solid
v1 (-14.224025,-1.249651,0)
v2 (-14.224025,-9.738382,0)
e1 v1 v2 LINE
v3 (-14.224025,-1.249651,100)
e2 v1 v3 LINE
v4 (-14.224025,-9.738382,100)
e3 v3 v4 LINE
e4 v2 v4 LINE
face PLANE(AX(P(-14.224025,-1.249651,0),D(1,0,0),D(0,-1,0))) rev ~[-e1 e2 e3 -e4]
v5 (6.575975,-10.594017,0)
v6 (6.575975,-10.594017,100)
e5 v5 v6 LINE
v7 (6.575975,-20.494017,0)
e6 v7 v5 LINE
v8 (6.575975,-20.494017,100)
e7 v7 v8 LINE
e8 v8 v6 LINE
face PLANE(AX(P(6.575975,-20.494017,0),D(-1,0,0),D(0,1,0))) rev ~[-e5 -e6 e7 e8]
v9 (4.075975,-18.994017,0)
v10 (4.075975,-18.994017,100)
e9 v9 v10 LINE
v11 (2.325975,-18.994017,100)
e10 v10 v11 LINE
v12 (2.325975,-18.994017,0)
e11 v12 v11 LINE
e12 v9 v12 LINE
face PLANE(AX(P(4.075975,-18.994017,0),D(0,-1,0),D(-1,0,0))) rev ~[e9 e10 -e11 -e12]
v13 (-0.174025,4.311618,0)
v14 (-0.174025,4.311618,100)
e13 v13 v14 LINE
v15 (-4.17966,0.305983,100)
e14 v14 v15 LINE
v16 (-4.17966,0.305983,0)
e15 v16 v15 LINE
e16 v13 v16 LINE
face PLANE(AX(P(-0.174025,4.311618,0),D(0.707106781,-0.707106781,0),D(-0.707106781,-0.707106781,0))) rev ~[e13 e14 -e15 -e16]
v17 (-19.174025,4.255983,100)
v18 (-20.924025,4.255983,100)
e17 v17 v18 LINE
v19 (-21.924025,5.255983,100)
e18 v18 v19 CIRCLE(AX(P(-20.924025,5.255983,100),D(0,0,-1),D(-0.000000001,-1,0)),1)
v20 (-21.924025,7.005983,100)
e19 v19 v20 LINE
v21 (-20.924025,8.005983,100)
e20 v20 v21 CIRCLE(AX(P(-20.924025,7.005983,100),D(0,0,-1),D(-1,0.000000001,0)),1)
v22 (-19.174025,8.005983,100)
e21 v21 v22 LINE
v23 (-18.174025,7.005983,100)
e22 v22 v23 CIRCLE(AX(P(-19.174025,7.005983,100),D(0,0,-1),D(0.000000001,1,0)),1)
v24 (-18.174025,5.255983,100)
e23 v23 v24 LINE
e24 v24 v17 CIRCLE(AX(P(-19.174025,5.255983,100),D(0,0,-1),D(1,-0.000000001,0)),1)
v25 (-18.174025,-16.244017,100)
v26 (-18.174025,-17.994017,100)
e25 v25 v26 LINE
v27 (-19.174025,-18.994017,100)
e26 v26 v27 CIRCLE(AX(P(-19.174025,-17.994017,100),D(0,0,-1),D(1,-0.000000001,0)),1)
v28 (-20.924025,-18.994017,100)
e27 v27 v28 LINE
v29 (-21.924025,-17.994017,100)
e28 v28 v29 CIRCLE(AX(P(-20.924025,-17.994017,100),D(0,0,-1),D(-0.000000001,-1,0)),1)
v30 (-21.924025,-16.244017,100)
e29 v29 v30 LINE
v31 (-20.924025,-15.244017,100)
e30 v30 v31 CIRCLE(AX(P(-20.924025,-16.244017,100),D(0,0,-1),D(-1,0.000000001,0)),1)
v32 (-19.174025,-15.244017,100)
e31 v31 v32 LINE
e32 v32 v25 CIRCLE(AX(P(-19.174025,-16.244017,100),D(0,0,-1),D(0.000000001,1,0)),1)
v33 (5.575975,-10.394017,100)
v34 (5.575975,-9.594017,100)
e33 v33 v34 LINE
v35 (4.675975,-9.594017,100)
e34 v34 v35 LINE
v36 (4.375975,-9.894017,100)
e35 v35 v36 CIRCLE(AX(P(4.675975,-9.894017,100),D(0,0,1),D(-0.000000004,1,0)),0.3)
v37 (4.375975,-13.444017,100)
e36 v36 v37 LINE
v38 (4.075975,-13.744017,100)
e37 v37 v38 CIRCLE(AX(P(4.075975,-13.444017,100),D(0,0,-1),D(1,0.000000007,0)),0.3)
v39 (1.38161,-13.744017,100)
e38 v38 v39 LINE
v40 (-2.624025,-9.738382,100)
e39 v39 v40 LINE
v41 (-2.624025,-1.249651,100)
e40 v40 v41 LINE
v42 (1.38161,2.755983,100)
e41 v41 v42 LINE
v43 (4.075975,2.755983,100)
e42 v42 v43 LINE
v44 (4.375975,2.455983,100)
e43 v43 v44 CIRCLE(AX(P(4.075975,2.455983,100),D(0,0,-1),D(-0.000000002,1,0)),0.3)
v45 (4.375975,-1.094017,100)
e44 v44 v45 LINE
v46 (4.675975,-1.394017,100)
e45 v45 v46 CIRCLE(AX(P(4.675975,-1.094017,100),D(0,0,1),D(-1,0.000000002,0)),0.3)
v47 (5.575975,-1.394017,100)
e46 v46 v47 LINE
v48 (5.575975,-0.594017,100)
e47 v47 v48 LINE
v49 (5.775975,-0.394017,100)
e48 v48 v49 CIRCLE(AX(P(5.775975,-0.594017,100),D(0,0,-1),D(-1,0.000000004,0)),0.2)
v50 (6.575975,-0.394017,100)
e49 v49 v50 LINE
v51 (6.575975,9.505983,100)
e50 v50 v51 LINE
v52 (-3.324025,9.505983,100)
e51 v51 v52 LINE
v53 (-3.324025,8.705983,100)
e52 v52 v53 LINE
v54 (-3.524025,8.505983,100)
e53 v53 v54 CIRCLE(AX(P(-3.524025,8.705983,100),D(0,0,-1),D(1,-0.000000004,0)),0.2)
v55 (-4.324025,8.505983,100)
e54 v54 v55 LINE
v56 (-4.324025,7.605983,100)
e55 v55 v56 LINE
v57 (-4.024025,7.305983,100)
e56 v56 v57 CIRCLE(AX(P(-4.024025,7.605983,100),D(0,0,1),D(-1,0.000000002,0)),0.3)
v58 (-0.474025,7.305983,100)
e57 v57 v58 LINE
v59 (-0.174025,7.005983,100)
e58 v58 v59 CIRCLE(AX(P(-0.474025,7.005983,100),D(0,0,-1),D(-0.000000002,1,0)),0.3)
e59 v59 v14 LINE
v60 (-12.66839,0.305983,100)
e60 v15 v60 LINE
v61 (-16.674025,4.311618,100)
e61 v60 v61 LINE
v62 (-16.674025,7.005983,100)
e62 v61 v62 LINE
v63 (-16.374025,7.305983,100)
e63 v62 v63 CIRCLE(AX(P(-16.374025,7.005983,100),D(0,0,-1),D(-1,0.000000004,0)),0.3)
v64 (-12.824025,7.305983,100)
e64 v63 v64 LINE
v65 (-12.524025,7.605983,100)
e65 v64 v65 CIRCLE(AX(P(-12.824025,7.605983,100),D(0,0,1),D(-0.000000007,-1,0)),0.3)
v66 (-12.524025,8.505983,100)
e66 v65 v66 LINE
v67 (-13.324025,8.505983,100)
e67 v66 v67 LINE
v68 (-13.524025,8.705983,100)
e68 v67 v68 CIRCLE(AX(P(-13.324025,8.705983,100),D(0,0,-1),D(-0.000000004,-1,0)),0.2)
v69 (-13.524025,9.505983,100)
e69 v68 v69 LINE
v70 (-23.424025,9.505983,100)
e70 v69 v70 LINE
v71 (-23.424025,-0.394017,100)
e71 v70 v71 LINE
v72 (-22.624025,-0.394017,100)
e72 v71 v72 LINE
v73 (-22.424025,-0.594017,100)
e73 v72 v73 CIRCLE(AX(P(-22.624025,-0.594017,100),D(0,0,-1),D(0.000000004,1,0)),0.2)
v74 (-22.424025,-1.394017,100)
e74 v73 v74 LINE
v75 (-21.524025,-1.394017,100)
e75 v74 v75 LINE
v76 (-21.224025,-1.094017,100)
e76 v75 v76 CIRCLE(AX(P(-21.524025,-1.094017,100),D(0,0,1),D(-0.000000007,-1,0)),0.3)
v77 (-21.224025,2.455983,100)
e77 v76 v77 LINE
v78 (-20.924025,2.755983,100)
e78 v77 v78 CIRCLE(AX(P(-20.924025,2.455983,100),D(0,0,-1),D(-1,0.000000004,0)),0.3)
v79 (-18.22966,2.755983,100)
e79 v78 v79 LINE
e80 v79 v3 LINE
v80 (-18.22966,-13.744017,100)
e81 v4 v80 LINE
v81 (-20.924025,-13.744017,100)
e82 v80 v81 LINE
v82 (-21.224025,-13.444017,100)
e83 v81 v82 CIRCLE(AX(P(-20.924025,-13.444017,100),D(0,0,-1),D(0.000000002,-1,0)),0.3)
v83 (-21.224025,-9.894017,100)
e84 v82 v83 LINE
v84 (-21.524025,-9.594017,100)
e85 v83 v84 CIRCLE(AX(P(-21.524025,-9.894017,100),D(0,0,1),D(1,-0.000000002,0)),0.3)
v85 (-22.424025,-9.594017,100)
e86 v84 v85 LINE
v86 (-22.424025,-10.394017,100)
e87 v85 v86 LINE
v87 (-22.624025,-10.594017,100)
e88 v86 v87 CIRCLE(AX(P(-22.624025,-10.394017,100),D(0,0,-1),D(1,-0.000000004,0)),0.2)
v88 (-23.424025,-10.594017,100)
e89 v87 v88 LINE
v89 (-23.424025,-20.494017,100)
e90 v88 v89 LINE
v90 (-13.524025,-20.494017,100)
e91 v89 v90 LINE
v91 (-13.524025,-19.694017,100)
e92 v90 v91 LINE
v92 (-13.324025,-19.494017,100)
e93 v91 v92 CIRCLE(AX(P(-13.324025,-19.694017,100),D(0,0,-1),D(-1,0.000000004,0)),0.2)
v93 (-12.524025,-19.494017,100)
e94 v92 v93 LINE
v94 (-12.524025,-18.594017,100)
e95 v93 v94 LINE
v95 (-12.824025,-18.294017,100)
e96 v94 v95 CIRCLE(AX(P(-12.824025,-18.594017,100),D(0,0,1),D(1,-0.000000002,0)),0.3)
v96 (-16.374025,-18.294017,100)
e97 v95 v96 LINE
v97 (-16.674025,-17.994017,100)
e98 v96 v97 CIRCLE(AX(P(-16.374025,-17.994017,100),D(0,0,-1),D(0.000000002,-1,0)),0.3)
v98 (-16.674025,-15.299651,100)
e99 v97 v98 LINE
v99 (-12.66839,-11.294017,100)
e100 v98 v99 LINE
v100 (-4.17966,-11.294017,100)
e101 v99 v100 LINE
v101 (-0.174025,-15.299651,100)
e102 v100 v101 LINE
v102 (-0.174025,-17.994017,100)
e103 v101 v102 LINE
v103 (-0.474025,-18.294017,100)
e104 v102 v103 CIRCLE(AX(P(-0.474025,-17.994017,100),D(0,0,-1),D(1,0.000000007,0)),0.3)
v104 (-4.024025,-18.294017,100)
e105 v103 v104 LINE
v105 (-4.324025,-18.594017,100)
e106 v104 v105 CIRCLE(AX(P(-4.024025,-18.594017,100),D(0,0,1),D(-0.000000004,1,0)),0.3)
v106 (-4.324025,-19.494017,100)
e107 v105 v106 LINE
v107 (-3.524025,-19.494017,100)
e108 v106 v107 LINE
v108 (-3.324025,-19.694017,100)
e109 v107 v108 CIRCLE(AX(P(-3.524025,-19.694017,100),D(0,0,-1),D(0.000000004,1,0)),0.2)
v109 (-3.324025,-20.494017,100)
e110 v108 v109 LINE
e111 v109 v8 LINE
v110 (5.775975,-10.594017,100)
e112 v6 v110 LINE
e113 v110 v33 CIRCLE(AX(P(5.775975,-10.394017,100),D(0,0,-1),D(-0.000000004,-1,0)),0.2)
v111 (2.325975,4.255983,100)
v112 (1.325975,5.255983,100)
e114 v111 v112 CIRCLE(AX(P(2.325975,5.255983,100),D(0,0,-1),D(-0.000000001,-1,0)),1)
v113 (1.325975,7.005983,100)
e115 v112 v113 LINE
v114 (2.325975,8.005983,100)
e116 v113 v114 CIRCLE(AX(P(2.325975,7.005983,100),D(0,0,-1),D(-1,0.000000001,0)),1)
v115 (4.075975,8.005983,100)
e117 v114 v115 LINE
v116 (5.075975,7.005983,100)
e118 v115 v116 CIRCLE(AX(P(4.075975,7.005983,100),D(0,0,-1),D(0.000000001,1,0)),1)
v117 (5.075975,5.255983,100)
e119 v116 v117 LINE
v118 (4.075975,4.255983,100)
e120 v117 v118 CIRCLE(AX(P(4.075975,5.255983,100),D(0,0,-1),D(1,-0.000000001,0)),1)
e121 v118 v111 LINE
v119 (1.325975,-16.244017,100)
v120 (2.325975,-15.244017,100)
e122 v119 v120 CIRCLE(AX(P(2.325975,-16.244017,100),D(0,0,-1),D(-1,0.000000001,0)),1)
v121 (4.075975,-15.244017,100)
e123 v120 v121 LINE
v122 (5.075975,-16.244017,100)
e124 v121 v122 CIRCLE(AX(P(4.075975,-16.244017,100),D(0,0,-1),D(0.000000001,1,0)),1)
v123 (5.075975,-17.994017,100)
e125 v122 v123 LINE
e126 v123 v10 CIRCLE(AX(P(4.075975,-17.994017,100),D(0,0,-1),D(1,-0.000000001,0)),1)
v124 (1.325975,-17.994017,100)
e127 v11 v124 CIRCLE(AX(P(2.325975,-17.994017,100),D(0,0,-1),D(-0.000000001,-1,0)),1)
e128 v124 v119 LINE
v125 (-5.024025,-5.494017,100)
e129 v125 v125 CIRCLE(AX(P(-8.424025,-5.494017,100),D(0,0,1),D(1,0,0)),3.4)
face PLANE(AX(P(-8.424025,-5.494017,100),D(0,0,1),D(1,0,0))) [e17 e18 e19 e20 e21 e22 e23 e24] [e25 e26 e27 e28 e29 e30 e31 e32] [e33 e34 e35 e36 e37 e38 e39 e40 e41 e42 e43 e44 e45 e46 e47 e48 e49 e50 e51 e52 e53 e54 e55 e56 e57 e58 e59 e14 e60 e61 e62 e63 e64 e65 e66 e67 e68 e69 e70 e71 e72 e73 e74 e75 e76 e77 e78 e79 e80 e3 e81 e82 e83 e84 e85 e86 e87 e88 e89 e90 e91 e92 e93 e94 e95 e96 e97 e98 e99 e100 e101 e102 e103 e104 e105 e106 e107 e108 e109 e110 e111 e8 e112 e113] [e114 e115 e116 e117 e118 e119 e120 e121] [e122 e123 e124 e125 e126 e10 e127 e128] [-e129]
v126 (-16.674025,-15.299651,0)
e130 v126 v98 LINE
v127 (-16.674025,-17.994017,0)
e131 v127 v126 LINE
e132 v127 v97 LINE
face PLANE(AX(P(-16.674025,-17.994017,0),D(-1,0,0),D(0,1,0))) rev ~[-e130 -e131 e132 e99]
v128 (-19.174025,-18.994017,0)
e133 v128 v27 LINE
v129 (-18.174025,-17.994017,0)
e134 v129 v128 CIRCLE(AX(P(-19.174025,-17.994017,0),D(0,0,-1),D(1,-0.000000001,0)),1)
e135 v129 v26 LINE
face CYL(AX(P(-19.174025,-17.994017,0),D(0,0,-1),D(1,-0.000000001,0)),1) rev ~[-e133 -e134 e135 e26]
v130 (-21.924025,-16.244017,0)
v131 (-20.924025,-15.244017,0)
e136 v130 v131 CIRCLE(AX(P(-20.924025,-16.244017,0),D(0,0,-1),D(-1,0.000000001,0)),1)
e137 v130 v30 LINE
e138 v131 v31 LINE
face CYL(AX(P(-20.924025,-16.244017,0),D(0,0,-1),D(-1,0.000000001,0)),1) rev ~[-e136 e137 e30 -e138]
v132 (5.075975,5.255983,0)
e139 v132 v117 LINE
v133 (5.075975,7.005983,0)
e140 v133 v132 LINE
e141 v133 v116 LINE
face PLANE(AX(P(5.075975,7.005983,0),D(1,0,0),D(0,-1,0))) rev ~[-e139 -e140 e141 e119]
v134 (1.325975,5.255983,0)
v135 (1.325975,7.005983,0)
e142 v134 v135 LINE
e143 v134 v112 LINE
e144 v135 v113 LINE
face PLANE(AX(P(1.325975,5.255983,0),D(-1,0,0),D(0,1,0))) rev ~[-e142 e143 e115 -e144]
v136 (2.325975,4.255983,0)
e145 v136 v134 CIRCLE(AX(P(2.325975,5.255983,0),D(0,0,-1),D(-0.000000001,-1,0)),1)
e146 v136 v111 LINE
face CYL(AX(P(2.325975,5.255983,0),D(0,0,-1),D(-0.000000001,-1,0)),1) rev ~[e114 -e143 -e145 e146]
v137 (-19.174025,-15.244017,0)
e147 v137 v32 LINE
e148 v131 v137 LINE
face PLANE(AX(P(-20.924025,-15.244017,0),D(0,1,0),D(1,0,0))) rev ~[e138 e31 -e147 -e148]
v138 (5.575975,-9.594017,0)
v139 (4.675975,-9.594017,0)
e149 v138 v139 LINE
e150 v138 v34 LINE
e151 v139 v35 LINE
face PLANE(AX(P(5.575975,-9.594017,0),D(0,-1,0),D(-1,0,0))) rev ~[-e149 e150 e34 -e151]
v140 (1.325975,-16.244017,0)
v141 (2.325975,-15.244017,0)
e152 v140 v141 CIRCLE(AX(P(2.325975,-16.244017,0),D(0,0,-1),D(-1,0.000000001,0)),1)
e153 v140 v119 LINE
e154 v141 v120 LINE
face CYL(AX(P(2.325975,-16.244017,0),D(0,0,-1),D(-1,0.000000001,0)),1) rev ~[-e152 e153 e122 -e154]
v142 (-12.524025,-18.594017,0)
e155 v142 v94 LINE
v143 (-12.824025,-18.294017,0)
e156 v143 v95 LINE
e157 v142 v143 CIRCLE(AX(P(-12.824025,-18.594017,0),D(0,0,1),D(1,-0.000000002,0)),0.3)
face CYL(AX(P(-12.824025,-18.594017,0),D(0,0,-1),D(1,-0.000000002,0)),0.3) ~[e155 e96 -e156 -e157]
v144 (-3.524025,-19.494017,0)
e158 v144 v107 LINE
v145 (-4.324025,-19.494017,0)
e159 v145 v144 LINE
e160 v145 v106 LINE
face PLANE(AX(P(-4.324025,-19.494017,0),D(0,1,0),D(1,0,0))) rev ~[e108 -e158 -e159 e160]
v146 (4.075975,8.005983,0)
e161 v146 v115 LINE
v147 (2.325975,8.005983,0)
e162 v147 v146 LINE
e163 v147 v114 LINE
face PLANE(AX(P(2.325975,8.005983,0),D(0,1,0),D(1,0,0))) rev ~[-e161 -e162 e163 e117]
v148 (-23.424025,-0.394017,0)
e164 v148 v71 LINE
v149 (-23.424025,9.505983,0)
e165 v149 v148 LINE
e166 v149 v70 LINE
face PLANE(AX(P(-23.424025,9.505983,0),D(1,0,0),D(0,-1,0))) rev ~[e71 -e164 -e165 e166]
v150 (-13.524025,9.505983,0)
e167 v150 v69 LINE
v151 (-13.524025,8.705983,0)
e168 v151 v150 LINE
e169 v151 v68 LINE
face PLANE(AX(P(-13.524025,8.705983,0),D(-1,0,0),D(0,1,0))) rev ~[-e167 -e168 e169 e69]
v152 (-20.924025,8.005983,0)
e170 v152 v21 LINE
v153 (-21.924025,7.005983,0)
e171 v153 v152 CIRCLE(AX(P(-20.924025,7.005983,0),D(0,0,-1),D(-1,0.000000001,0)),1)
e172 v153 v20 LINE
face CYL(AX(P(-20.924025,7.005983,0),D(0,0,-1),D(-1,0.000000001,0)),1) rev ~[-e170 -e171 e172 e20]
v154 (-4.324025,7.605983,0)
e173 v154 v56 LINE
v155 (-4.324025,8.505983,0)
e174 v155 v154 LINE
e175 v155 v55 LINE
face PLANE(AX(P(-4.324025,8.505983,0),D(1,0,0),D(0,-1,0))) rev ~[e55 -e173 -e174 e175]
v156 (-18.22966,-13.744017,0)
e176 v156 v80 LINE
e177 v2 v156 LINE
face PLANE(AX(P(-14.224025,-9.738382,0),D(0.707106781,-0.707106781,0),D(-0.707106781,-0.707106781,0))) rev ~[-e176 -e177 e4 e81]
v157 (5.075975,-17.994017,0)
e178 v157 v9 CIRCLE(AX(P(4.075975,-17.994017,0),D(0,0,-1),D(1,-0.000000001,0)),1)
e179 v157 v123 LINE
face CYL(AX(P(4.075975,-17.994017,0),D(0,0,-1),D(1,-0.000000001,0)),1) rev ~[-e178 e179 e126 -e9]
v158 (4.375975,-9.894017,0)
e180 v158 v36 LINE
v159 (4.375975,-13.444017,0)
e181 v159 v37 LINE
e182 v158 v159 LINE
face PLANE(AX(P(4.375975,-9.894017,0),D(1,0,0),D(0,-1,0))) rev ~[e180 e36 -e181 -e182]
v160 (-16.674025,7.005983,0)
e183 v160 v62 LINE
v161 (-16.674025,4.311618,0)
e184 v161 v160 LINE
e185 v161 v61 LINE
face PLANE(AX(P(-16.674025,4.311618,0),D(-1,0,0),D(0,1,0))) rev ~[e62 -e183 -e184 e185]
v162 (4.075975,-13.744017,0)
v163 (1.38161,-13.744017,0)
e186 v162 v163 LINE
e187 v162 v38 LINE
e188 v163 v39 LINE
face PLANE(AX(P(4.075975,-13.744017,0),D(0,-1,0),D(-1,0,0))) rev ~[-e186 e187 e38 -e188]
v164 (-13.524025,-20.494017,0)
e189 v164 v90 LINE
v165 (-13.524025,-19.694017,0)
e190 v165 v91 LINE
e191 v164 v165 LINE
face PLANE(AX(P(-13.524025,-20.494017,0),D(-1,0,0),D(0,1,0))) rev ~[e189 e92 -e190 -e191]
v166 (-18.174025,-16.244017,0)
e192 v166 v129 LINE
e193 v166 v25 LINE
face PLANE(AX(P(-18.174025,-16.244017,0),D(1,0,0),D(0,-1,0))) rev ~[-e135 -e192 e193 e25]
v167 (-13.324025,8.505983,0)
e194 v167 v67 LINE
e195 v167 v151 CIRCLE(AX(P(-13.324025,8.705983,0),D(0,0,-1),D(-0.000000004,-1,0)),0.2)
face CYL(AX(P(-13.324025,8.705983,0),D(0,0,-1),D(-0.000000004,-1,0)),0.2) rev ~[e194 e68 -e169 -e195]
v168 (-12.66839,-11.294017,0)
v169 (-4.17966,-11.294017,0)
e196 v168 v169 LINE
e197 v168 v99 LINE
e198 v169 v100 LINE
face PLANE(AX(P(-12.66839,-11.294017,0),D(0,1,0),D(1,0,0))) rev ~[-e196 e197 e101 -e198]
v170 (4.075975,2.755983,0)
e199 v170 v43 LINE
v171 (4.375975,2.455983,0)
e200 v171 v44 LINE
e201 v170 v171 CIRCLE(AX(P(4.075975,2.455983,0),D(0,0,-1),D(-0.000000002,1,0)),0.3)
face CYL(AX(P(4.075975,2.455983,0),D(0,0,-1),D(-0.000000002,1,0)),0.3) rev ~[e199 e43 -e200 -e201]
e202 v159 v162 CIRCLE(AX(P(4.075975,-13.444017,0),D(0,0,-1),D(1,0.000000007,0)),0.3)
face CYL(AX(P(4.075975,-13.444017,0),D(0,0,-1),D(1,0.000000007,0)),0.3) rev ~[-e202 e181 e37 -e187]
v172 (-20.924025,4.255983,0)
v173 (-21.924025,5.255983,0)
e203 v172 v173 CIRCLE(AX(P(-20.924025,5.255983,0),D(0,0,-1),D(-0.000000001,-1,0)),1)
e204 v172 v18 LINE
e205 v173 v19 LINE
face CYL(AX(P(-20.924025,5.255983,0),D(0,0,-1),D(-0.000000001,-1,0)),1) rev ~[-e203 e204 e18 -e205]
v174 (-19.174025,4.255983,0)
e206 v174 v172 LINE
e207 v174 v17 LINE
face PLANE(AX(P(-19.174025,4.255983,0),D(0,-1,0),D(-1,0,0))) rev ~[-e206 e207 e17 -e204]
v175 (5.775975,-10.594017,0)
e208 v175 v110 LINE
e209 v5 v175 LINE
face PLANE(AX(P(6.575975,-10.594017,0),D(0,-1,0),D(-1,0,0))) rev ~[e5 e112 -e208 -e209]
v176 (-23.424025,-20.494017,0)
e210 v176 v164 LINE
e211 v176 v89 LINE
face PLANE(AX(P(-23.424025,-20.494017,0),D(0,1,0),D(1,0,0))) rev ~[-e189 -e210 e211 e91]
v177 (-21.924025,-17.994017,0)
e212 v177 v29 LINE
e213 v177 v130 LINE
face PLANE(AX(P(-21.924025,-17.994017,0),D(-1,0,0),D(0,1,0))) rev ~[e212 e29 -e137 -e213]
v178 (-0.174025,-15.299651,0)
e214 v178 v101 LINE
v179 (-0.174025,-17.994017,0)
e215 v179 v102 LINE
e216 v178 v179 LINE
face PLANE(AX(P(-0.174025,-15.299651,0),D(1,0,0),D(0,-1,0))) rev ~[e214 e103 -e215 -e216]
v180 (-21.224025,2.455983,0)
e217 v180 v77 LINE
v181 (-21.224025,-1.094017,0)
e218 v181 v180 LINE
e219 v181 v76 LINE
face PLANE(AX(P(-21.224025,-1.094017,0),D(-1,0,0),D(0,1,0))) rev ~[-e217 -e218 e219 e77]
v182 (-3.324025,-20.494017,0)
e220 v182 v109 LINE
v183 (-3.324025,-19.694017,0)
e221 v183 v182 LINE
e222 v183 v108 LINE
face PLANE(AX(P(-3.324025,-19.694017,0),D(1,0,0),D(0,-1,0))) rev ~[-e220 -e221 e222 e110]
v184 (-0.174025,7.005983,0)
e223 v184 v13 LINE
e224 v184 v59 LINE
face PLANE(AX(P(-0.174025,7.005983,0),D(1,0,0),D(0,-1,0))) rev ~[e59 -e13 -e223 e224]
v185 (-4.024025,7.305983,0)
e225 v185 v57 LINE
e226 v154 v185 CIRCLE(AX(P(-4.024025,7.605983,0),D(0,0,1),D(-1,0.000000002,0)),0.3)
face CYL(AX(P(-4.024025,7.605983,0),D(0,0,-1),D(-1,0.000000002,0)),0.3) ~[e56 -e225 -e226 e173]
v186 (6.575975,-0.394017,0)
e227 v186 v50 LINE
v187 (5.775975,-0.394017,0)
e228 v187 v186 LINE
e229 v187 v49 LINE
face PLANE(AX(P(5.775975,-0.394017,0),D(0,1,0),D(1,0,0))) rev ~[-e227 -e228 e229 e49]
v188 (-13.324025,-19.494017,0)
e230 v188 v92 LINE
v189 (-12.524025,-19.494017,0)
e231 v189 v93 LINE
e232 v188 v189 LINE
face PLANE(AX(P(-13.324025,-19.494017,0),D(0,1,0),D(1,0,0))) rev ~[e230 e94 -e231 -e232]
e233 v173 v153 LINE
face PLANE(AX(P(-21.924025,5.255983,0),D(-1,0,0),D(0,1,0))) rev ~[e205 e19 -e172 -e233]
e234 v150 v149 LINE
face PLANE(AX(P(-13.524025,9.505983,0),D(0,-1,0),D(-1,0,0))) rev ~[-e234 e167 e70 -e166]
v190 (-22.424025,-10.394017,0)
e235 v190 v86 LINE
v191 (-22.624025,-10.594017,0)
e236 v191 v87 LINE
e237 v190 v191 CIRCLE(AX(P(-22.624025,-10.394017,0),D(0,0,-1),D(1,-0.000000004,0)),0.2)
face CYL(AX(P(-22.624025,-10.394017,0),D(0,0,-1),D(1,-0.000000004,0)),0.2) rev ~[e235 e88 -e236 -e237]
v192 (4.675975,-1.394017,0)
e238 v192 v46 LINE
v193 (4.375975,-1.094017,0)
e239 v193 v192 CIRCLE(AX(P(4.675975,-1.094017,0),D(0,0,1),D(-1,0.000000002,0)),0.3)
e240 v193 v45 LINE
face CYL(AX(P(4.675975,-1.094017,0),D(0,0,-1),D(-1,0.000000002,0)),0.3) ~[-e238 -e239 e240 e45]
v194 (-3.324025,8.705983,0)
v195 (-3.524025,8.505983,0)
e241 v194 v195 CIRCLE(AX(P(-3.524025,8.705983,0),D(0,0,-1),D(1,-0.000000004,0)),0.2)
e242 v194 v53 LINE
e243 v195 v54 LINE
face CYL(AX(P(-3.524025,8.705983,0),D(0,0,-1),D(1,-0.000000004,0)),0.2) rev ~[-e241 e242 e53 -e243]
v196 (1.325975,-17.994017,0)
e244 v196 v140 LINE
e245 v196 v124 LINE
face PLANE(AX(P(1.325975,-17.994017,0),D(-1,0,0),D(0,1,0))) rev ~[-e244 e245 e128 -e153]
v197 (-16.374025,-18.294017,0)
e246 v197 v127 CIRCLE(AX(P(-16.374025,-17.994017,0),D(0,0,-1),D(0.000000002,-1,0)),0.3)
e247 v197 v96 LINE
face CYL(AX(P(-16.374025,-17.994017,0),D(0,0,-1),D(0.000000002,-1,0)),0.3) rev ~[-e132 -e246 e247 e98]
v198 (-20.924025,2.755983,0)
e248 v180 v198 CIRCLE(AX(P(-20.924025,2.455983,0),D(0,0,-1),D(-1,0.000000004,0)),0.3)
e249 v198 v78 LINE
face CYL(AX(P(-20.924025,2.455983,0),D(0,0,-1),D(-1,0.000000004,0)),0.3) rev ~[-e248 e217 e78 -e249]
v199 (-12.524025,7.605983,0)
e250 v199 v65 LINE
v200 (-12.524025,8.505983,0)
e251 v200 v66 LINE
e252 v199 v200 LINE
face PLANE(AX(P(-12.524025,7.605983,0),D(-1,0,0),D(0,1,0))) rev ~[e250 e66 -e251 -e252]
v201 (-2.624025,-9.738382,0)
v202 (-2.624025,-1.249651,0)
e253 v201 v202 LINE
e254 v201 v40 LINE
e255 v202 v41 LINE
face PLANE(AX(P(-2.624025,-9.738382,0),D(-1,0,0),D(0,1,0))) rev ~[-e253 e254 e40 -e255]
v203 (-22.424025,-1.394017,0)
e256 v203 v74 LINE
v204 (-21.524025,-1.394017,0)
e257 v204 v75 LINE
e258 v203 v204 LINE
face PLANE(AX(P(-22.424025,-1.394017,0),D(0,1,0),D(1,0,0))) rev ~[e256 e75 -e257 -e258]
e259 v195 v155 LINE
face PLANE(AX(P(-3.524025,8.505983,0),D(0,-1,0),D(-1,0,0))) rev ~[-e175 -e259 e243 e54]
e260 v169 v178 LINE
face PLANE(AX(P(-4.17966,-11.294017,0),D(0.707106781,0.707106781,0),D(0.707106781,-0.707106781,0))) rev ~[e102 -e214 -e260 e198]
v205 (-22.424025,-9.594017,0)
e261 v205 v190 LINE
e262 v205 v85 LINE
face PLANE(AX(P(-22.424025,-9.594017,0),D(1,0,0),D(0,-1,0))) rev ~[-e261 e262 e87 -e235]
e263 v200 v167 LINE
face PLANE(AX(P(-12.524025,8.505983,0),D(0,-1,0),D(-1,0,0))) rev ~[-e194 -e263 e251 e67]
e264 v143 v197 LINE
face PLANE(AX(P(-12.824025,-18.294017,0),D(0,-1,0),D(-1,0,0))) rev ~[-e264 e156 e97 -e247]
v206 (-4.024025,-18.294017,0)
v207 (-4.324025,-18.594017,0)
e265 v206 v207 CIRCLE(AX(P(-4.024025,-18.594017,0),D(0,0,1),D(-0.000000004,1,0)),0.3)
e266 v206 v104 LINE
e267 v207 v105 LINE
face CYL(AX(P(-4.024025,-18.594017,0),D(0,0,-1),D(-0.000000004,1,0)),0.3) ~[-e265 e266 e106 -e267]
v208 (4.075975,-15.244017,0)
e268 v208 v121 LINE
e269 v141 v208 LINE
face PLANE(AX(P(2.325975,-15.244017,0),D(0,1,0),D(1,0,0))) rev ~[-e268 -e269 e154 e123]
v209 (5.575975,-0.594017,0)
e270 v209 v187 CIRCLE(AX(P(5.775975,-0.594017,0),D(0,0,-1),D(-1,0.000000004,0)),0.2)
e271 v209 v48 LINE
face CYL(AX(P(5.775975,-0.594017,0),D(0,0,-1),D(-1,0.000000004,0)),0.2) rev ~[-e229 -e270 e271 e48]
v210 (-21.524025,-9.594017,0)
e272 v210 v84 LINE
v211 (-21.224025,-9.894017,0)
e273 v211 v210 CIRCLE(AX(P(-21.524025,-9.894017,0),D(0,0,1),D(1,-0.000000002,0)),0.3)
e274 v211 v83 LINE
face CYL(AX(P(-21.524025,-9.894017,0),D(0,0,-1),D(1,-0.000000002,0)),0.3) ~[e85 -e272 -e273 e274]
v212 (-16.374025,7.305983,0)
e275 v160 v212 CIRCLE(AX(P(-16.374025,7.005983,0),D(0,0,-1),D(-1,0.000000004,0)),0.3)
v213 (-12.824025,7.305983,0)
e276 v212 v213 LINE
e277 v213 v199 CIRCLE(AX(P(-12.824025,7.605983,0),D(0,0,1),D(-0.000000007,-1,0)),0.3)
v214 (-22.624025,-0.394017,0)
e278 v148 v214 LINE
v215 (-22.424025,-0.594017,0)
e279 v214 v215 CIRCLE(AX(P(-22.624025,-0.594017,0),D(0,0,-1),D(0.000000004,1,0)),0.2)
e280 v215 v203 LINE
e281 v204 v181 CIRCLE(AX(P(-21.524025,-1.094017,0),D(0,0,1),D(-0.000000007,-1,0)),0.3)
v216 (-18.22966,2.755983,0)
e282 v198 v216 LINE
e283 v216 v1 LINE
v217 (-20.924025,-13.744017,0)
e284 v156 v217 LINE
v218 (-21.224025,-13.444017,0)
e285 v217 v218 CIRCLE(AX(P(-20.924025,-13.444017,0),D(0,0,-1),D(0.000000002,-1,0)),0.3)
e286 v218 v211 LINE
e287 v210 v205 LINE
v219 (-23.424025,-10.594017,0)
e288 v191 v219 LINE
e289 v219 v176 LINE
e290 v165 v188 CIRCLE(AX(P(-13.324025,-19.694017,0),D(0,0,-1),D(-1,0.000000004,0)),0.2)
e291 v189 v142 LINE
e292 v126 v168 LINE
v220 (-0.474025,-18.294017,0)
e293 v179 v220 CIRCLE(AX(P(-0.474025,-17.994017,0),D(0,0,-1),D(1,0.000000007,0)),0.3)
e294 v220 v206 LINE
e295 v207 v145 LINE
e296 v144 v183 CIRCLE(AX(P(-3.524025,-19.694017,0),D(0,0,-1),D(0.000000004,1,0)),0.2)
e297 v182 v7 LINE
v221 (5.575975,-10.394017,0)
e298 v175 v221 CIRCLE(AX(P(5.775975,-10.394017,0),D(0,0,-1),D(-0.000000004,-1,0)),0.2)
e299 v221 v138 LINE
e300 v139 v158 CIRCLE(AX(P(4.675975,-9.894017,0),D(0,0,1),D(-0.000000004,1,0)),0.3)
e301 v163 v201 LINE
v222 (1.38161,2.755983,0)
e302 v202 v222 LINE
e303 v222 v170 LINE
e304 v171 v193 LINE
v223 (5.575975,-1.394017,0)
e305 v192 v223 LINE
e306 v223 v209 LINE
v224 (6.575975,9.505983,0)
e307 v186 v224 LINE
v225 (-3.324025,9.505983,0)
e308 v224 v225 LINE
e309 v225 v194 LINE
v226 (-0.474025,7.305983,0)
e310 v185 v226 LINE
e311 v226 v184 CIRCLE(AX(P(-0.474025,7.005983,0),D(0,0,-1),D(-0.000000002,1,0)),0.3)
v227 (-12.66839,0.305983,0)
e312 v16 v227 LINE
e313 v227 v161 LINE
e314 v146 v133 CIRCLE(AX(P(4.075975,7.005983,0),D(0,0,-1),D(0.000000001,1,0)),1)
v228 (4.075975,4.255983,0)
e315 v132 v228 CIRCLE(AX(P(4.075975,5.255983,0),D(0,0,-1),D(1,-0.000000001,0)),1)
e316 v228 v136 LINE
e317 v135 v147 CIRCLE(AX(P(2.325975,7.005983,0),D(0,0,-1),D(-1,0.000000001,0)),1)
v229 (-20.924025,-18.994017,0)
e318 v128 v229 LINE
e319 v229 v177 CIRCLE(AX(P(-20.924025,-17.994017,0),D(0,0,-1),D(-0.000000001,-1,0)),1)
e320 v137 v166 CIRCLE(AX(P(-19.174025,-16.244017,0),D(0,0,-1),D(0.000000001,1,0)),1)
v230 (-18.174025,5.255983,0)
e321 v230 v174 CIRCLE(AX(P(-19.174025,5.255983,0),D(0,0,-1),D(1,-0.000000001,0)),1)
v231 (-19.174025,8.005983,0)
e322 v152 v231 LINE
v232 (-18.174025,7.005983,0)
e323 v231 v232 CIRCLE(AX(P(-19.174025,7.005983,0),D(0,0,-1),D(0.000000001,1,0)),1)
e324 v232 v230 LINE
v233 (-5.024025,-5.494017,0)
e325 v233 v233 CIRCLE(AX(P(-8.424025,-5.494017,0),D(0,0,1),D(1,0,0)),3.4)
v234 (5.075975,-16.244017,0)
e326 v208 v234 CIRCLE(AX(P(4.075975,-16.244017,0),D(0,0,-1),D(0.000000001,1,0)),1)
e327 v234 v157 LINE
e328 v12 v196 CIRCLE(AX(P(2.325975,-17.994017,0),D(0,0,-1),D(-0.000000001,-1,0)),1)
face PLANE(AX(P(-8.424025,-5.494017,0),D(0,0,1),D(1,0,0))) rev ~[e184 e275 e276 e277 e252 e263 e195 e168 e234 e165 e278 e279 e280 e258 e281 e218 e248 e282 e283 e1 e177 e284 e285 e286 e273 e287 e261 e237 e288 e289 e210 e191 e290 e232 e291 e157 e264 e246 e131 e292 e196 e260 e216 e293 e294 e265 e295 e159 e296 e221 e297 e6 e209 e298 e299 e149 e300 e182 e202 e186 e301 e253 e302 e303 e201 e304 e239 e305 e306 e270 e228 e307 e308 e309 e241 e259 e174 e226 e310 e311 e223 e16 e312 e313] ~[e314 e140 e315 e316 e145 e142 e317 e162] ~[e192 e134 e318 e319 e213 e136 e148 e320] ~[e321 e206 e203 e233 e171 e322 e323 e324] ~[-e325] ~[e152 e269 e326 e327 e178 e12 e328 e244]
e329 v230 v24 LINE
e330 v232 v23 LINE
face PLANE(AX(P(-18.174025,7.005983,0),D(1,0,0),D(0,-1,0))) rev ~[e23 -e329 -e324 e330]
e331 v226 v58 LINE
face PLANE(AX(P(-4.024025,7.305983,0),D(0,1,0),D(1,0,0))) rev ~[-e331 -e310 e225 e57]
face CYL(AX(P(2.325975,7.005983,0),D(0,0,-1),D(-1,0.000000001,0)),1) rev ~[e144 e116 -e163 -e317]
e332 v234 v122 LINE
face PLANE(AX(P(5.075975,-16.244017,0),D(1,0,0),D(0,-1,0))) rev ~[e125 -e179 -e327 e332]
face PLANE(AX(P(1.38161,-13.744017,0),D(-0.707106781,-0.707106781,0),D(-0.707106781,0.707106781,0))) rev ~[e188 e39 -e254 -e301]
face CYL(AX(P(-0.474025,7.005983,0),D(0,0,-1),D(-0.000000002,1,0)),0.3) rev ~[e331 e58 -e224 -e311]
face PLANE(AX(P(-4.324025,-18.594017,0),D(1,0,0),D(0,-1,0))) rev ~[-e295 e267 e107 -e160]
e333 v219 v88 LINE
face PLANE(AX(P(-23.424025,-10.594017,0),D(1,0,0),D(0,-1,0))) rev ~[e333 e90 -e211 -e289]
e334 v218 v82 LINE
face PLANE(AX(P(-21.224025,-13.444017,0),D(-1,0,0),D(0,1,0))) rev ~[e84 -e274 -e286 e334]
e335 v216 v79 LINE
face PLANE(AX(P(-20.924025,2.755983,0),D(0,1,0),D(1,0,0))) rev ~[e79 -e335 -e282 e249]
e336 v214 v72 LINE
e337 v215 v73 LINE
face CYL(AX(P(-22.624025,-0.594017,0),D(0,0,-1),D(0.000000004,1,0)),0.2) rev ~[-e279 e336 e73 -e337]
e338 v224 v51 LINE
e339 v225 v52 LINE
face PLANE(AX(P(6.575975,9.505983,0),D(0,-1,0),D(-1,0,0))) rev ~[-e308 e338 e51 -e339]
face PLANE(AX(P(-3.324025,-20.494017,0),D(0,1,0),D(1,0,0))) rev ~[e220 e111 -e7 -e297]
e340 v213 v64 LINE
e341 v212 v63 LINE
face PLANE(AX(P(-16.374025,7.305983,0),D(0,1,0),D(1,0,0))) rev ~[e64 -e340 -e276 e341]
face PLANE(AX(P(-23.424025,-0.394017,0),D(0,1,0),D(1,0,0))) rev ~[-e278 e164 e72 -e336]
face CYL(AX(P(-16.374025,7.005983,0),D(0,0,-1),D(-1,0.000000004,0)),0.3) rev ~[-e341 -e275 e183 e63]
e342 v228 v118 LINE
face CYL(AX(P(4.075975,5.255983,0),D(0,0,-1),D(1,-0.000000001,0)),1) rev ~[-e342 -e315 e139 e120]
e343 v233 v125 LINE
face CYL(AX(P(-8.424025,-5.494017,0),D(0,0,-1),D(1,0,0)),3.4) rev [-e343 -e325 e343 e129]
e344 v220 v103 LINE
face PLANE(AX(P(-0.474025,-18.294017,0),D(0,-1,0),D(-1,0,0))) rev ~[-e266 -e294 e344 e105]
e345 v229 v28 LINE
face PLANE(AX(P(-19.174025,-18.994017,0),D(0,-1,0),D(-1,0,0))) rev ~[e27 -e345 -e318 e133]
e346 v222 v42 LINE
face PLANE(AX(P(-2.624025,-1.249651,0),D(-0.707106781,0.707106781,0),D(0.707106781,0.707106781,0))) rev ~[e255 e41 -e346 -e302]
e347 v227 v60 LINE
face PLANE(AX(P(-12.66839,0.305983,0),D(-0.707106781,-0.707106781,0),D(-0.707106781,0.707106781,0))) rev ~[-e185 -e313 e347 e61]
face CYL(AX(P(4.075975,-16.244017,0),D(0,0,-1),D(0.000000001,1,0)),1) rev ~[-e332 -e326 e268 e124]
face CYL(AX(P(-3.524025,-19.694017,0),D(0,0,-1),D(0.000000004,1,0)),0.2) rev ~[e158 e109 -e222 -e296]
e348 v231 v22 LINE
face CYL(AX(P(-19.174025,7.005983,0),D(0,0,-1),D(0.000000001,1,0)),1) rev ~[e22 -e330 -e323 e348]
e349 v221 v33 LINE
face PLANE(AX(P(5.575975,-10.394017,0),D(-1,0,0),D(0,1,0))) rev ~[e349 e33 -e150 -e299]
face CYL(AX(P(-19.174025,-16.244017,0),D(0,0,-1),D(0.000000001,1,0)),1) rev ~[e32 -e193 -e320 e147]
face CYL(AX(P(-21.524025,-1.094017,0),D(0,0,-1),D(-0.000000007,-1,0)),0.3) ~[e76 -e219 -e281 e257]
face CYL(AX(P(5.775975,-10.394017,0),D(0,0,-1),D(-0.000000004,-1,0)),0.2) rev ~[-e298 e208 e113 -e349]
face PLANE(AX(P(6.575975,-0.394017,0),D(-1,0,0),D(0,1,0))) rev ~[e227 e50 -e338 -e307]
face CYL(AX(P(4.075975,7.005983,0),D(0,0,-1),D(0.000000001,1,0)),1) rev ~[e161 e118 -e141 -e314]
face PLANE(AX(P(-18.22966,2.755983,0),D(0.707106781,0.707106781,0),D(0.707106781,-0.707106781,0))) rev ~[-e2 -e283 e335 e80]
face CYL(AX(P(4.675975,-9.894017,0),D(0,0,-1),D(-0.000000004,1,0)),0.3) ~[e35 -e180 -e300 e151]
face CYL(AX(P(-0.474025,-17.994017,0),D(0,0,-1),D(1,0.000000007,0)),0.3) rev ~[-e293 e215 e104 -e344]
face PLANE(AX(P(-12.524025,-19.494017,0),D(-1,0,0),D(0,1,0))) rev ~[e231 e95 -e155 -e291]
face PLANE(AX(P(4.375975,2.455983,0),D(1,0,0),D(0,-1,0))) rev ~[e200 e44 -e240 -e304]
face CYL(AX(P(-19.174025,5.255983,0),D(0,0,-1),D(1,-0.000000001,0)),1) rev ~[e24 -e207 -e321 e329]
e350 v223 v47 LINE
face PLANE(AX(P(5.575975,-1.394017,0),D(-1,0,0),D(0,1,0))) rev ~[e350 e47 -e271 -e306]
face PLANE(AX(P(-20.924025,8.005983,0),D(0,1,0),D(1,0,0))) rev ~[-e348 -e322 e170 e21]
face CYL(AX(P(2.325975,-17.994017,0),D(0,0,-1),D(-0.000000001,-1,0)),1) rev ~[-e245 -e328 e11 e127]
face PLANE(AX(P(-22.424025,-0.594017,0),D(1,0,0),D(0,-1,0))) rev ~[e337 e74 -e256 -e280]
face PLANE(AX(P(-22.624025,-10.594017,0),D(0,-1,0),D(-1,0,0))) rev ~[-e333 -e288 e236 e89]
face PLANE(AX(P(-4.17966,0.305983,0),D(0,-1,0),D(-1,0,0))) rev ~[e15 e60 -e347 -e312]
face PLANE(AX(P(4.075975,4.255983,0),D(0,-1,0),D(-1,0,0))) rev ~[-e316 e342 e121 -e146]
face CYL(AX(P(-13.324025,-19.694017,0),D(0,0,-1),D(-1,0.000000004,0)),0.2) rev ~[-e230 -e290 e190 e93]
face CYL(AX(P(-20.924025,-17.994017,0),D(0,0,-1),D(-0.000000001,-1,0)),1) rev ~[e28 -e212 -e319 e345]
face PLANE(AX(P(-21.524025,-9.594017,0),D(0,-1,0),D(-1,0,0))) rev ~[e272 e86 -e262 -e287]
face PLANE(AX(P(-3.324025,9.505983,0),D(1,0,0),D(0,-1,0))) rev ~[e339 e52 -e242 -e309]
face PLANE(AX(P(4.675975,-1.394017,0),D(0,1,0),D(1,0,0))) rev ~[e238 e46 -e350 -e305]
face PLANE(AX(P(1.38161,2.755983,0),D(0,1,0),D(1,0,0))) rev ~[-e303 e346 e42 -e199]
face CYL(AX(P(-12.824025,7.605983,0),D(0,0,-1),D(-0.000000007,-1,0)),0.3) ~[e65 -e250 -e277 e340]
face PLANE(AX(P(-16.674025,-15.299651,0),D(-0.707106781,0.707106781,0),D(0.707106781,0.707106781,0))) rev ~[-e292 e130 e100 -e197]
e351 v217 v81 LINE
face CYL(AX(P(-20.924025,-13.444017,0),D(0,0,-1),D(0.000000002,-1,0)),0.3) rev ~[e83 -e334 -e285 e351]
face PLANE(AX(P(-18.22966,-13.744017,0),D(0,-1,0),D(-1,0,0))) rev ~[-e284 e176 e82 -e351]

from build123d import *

# Parameters (mm, degrees)
SKETCH_1_R      = 3.4
EXTRUDE_1_DEPTH = 100


with BuildPart() as part:
    # 草图1 → 凸台-拉伸1 (new body)
    with BuildSketch(Plane.XY):
        with BuildLine():
            Line((-23.424024871, 7.005983494), (-23.424024871, -0.394016506))
            Line((-23.424024871, -0.394016506), (-22.624024871, -0.394016506))
            ThreePointArc((-22.624024871, -0.394016506), (-22.482603515, -0.45259515), (-22.424024871, -0.594016506))
            Line((-22.424024871, -0.594016506), (-22.424024871, -1.394016506))
            Line((-22.424024871, -1.394016506), (-21.524024871, -1.394016506))
            ThreePointArc((-21.524024871, -1.394016506), (-21.311892836, -1.306148541), (-21.224024871, -1.094016506))
            Line((-21.224024871, -1.094016506), (-21.224024871, 2.455983494))
            ThreePointArc((-21.224024871, 2.455983494), (-21.136156905, 2.668115528), (-20.924024871, 2.755983494))
            Line((-20.924024871, 2.755983494), (-18.229659789, 2.755983494))
            Line((-18.229659789, 2.755983494), (-14.224024871, -1.249651425))
            Line((-14.224024871, -1.249651425), (-14.224024871, -9.738381588))
            Line((-14.224024871, -9.738381588), (-18.229659789, -13.744016506))
            Line((-18.229659789, -13.744016506), (-20.924024871, -13.744016506))
            ThreePointArc((-20.924024871, -13.744016506), (-21.136156905, -13.656148541), (-21.224024871, -13.444016506))
            Line((-21.224024871, -13.444016506), (-21.224024871, -9.894016506))
            ThreePointArc((-21.224024871, -9.894016506), (-21.311892836, -9.681884472), (-21.524024871, -9.594016506))
            Line((-21.524024871, -9.594016506), (-22.424024871, -9.594016506))
            Line((-22.424024871, -9.594016506), (-22.424024871, -10.394016506))
            ThreePointArc((-22.424024871, -10.394016506), (-22.482603515, -10.535437862), (-22.624024871, -10.594016506))
            Line((-22.624024871, -10.594016506), (-23.424024871, -10.594016506))
            Line((-23.424024871, -10.594016506), (-23.424024871, -17.994016506))
            Line((-23.424024871, -17.994016506), (-23.424024871, -20.494016506))
            Line((-23.424024871, -20.494016506), (-20.924024871, -20.494016506))
            Line((-20.924024871, -20.494016506), (-13.524024871, -20.494016506))
            Line((-13.524024871, -20.494016506), (-13.524024871, -19.694016506))
            ThreePointArc((-13.524024871, -19.694016506), (-13.465446227, -19.55259515), (-13.324024871, -19.494016506))
            Line((-13.324024871, -19.494016506), (-12.524024871, -19.494016506))
            Line((-12.524024871, -19.494016506), (-12.524024871, -18.594016506))
            ThreePointArc((-12.524024871, -18.594016506), (-12.611892836, -18.381884472), (-12.824024871, -18.294016506))
            Line((-12.824024871, -18.294016506), (-16.374024871, -18.294016506))
            ThreePointArc((-16.374024871, -18.294016506), (-16.586156905, -18.206148541), (-16.674024871, -17.994016506))
            Line((-16.674024871, -17.994016506), (-16.674024871, -15.299651425))
            Line((-16.674024871, -15.299651425), (-12.668389952, -11.294016506))
            Line((-12.668389952, -11.294016506), (-4.179659789, -11.294016506))
            Line((-4.179659789, -11.294016506), (-0.174024871, -15.299651425))
            Line((-0.174024871, -15.299651425), (-0.174024871, -17.994016506))
            ThreePointArc((-0.174024871, -17.994016506), (-0.261892836, -18.206148541), (-0.474024871, -18.294016506))
            Line((-0.474024871, -18.294016506), (-4.024024871, -18.294016506))
            ThreePointArc((-4.024024871, -18.294016506), (-4.236156905, -18.381884472), (-4.324024871, -18.594016506))
            Line((-4.324024871, -18.594016506), (-4.324024871, -19.494016506))
            Line((-4.324024871, -19.494016506), (-3.524024871, -19.494016506))
            ThreePointArc((-3.524024871, -19.494016506), (-3.382603515, -19.55259515), (-3.324024871, -19.694016506))
            Line((-3.324024871, -19.694016506), (-3.324024871, -20.494016506))
            Line((-3.324024871, -20.494016506), (4.075975129, -20.494016506))
            Line((4.075975129, -20.494016506), (6.575975129, -20.494016506))
            Line((6.575975129, -20.494016506), (6.575975129, -17.994016506))
            Line((6.575975129, -17.994016506), (6.575975129, -10.594016506))
            Line((6.575975129, -10.594016506), (5.775975129, -10.594016506))
            ThreePointArc((5.775975129, -10.594016506), (5.634553773, -10.535437862), (5.575975129, -10.394016506))
            Line((5.575975129, -10.394016506), (5.575975129, -9.594016506))
            Line((5.575975129, -9.594016506), (4.675975129, -9.594016506))
            ThreePointArc((4.675975129, -9.594016506), (4.463843095, -9.681884472), (4.375975129, -9.894016506))
            Line((4.375975129, -9.894016506), (4.375975129, -13.444016506))
            ThreePointArc((4.375975129, -13.444016506), (4.288107164, -13.656148541), (4.075975129, -13.744016506))
            Line((4.075975129, -13.744016506), (1.381610048, -13.744016506))
            Line((1.381610048, -13.744016506), (-2.624024871, -9.738381588))
            Line((-2.624024871, -9.738381588), (-2.624024871, -1.249651425))
            Line((-2.624024871, -1.249651425), (1.381610048, 2.755983494))
            Line((1.381610048, 2.755983494), (4.075975129, 2.755983494))
            ThreePointArc((4.075975129, 2.755983494), (4.288107164, 2.668115528), (4.375975129, 2.455983494))
            Line((4.375975129, 2.455983494), (4.375975129, -1.094016506))
            ThreePointArc((4.375975129, -1.094016506), (4.463843095, -1.306148541), (4.675975129, -1.394016506))
            Line((4.675975129, -1.394016506), (5.575975129, -1.394016506))
            Line((5.575975129, -1.394016506), (5.575975129, -0.594016506))
            ThreePointArc((5.575975129, -0.594016506), (5.634553773, -0.45259515), (5.775975129, -0.394016506))
            Line((5.775975129, -0.394016506), (6.575975129, -0.394016506))
            Line((6.575975129, -0.394016506), (6.575975129, 7.005983494))
            Line((6.575975129, 7.005983494), (6.575975129, 9.505983494))
            Line((6.575975129, 9.505983494), (4.075975129, 9.505983494))
            Line((4.075975129, 9.505983494), (-3.324024871, 9.505983494))
            Line((-3.324024871, 9.505983494), (-3.324024871, 8.705983494))
            ThreePointArc((-3.324024871, 8.705983494), (-3.382603515, 8.564562138), (-3.524024871, 8.505983494))
            Line((-3.524024871, 8.505983494), (-4.324024871, 8.505983494))
            Line((-4.324024871, 8.505983494), (-4.324024871, 7.605983494))
            ThreePointArc((-4.324024871, 7.605983494), (-4.236156905, 7.393851459), (-4.024024871, 7.305983494))
            Line((-4.024024871, 7.305983494), (-0.474024871, 7.305983494))
            ThreePointArc((-0.474024871, 7.305983494), (-0.261892836, 7.218115528), (-0.174024871, 7.005983494))
            Line((-0.174024871, 7.005983494), (-0.174024871, 4.311618412))
            Line((-0.174024871, 4.311618412), (-4.179659789, 0.305983494))
            Line((-4.179659789, 0.305983494), (-12.668389952, 0.305983494))
            Line((-12.668389952, 0.305983494), (-16.674024871, 4.311618412))
            Line((-16.674024871, 4.311618412), (-16.674024871, 7.005983494))
            ThreePointArc((-16.674024871, 7.005983494), (-16.586156905, 7.218115528), (-16.374024871, 7.305983494))
            Line((-16.374024871, 7.305983494), (-12.824024871, 7.305983494))
            ThreePointArc((-12.824024871, 7.305983494), (-12.611892836, 7.393851459), (-12.524024871, 7.605983494))
            Line((-12.524024871, 7.605983494), (-12.524024871, 8.505983494))
            Line((-12.524024871, 8.505983494), (-13.324024871, 8.505983494))
            ThreePointArc((-13.324024871, 8.505983494), (-13.465446227, 8.564562138), (-13.524024871, 8.705983494))
            Line((-13.524024871, 8.705983494), (-13.524024871, 9.505983494))
            Line((-13.524024871, 9.505983494), (-20.924024871, 9.505983494))
            Line((-20.924024871, 9.505983494), (-23.424024871, 9.505983494))
            Line((-23.424024871, 9.505983494), (-23.424024871, 7.005983494))
        make_face()
        with Locations((-8.424024871, -5.494016506)):
            Circle(SKETCH_1_R, mode=Mode.SUBTRACT)
        with BuildLine():
            Line((2.325975129, -15.244016506), (4.075975129, -15.244016506))
            ThreePointArc((4.075975129, -15.244016506), (4.78308191, -15.536909725), (5.075975129, -16.244016506))
            Line((5.075975129, -16.244016506), (5.075975129, -17.994016506))
            ThreePointArc((5.075975129, -17.994016506), (4.78308191, -18.701123287), (4.075975129, -18.994016506))
            Line((4.075975129, -18.994016506), (2.325975129, -18.994016506))
            ThreePointArc((2.325975129, -18.994016506), (1.618868348, -18.701123287), (1.325975129, -17.994016506))
            Line((1.325975129, -17.994016506), (1.325975129, -16.244016506))
            ThreePointArc((1.325975129, -16.244016506), (1.618868348, -15.536909725), (2.325975129, -15.244016506))
        make_face(mode=Mode.SUBTRACT)
        with BuildLine():
            Line((1.325975129, 5.255983494), (1.325975129, 7.005983494))
            ThreePointArc((1.325975129, 7.005983494), (1.618868348, 7.713090275), (2.325975129, 8.005983494))
            Line((2.325975129, 8.005983494), (4.075975129, 8.005983494))
            ThreePointArc((4.075975129, 8.005983494), (4.78308191, 7.713090275), (5.075975129, 7.005983494))
            Line((5.075975129, 7.005983494), (5.075975129, 5.255983494))
            ThreePointArc((5.075975129, 5.255983494), (4.78308191, 4.548876713), (4.075975129, 4.255983494))
            Line((4.075975129, 4.255983494), (2.325975129, 4.255983494))
            ThreePointArc((2.325975129, 4.255983494), (1.618868348, 4.548876713), (1.325975129, 5.255983494))
        make_face(mode=Mode.SUBTRACT)
        with BuildLine():
            Line((-18.174024871, -16.244016506), (-18.174024871, -17.994016506))
            ThreePointArc((-18.174024871, -17.994016506), (-18.46691809, -18.701123287), (-19.174024871, -18.994016506))
            Line((-19.174024871, -18.994016506), (-20.924024871, -18.994016506))
            ThreePointArc((-20.924024871, -18.994016506), (-21.631131652, -18.701123287), (-21.924024871, -17.994016506))
            Line((-21.924024871, -17.994016506), (-21.924024871, -16.244016506))
            ThreePointArc((-21.924024871, -16.244016506), (-21.631131652, -15.536909725), (-20.924024871, -15.244016506))
            Line((-20.924024871, -15.244016506), (-19.174024871, -15.244016506))
            ThreePointArc((-19.174024871, -15.244016506), (-18.46691809, -15.536909725), (-18.174024871, -16.244016506))
        make_face(mode=Mode.SUBTRACT)
        with BuildLine():
            Line((-19.174024871, 4.255983494), (-20.924024871, 4.255983494))
            ThreePointArc((-20.924024871, 4.255983494), (-21.631131652, 4.548876713), (-21.924024871, 5.255983494))
            Line((-21.924024871, 5.255983494), (-21.924024871, 7.005983494))
            ThreePointArc((-21.924024871, 7.005983494), (-21.631131652, 7.713090275), (-20.924024871, 8.005983494))
            Line((-20.924024871, 8.005983494), (-19.174024871, 8.005983494))
            ThreePointArc((-19.174024871, 8.005983494), (-18.46691809, 7.713090275), (-18.174024871, 7.005983494))
            Line((-18.174024871, 7.005983494), (-18.174024871, 5.255983494))
            ThreePointArc((-18.174024871, 5.255983494), (-18.46691809, 4.548876713), (-19.174024871, 4.255983494))
        make_face(mode=Mode.SUBTRACT)
    extrude(amount=EXTRUDE_1_DEPTH)


solid = part.part
